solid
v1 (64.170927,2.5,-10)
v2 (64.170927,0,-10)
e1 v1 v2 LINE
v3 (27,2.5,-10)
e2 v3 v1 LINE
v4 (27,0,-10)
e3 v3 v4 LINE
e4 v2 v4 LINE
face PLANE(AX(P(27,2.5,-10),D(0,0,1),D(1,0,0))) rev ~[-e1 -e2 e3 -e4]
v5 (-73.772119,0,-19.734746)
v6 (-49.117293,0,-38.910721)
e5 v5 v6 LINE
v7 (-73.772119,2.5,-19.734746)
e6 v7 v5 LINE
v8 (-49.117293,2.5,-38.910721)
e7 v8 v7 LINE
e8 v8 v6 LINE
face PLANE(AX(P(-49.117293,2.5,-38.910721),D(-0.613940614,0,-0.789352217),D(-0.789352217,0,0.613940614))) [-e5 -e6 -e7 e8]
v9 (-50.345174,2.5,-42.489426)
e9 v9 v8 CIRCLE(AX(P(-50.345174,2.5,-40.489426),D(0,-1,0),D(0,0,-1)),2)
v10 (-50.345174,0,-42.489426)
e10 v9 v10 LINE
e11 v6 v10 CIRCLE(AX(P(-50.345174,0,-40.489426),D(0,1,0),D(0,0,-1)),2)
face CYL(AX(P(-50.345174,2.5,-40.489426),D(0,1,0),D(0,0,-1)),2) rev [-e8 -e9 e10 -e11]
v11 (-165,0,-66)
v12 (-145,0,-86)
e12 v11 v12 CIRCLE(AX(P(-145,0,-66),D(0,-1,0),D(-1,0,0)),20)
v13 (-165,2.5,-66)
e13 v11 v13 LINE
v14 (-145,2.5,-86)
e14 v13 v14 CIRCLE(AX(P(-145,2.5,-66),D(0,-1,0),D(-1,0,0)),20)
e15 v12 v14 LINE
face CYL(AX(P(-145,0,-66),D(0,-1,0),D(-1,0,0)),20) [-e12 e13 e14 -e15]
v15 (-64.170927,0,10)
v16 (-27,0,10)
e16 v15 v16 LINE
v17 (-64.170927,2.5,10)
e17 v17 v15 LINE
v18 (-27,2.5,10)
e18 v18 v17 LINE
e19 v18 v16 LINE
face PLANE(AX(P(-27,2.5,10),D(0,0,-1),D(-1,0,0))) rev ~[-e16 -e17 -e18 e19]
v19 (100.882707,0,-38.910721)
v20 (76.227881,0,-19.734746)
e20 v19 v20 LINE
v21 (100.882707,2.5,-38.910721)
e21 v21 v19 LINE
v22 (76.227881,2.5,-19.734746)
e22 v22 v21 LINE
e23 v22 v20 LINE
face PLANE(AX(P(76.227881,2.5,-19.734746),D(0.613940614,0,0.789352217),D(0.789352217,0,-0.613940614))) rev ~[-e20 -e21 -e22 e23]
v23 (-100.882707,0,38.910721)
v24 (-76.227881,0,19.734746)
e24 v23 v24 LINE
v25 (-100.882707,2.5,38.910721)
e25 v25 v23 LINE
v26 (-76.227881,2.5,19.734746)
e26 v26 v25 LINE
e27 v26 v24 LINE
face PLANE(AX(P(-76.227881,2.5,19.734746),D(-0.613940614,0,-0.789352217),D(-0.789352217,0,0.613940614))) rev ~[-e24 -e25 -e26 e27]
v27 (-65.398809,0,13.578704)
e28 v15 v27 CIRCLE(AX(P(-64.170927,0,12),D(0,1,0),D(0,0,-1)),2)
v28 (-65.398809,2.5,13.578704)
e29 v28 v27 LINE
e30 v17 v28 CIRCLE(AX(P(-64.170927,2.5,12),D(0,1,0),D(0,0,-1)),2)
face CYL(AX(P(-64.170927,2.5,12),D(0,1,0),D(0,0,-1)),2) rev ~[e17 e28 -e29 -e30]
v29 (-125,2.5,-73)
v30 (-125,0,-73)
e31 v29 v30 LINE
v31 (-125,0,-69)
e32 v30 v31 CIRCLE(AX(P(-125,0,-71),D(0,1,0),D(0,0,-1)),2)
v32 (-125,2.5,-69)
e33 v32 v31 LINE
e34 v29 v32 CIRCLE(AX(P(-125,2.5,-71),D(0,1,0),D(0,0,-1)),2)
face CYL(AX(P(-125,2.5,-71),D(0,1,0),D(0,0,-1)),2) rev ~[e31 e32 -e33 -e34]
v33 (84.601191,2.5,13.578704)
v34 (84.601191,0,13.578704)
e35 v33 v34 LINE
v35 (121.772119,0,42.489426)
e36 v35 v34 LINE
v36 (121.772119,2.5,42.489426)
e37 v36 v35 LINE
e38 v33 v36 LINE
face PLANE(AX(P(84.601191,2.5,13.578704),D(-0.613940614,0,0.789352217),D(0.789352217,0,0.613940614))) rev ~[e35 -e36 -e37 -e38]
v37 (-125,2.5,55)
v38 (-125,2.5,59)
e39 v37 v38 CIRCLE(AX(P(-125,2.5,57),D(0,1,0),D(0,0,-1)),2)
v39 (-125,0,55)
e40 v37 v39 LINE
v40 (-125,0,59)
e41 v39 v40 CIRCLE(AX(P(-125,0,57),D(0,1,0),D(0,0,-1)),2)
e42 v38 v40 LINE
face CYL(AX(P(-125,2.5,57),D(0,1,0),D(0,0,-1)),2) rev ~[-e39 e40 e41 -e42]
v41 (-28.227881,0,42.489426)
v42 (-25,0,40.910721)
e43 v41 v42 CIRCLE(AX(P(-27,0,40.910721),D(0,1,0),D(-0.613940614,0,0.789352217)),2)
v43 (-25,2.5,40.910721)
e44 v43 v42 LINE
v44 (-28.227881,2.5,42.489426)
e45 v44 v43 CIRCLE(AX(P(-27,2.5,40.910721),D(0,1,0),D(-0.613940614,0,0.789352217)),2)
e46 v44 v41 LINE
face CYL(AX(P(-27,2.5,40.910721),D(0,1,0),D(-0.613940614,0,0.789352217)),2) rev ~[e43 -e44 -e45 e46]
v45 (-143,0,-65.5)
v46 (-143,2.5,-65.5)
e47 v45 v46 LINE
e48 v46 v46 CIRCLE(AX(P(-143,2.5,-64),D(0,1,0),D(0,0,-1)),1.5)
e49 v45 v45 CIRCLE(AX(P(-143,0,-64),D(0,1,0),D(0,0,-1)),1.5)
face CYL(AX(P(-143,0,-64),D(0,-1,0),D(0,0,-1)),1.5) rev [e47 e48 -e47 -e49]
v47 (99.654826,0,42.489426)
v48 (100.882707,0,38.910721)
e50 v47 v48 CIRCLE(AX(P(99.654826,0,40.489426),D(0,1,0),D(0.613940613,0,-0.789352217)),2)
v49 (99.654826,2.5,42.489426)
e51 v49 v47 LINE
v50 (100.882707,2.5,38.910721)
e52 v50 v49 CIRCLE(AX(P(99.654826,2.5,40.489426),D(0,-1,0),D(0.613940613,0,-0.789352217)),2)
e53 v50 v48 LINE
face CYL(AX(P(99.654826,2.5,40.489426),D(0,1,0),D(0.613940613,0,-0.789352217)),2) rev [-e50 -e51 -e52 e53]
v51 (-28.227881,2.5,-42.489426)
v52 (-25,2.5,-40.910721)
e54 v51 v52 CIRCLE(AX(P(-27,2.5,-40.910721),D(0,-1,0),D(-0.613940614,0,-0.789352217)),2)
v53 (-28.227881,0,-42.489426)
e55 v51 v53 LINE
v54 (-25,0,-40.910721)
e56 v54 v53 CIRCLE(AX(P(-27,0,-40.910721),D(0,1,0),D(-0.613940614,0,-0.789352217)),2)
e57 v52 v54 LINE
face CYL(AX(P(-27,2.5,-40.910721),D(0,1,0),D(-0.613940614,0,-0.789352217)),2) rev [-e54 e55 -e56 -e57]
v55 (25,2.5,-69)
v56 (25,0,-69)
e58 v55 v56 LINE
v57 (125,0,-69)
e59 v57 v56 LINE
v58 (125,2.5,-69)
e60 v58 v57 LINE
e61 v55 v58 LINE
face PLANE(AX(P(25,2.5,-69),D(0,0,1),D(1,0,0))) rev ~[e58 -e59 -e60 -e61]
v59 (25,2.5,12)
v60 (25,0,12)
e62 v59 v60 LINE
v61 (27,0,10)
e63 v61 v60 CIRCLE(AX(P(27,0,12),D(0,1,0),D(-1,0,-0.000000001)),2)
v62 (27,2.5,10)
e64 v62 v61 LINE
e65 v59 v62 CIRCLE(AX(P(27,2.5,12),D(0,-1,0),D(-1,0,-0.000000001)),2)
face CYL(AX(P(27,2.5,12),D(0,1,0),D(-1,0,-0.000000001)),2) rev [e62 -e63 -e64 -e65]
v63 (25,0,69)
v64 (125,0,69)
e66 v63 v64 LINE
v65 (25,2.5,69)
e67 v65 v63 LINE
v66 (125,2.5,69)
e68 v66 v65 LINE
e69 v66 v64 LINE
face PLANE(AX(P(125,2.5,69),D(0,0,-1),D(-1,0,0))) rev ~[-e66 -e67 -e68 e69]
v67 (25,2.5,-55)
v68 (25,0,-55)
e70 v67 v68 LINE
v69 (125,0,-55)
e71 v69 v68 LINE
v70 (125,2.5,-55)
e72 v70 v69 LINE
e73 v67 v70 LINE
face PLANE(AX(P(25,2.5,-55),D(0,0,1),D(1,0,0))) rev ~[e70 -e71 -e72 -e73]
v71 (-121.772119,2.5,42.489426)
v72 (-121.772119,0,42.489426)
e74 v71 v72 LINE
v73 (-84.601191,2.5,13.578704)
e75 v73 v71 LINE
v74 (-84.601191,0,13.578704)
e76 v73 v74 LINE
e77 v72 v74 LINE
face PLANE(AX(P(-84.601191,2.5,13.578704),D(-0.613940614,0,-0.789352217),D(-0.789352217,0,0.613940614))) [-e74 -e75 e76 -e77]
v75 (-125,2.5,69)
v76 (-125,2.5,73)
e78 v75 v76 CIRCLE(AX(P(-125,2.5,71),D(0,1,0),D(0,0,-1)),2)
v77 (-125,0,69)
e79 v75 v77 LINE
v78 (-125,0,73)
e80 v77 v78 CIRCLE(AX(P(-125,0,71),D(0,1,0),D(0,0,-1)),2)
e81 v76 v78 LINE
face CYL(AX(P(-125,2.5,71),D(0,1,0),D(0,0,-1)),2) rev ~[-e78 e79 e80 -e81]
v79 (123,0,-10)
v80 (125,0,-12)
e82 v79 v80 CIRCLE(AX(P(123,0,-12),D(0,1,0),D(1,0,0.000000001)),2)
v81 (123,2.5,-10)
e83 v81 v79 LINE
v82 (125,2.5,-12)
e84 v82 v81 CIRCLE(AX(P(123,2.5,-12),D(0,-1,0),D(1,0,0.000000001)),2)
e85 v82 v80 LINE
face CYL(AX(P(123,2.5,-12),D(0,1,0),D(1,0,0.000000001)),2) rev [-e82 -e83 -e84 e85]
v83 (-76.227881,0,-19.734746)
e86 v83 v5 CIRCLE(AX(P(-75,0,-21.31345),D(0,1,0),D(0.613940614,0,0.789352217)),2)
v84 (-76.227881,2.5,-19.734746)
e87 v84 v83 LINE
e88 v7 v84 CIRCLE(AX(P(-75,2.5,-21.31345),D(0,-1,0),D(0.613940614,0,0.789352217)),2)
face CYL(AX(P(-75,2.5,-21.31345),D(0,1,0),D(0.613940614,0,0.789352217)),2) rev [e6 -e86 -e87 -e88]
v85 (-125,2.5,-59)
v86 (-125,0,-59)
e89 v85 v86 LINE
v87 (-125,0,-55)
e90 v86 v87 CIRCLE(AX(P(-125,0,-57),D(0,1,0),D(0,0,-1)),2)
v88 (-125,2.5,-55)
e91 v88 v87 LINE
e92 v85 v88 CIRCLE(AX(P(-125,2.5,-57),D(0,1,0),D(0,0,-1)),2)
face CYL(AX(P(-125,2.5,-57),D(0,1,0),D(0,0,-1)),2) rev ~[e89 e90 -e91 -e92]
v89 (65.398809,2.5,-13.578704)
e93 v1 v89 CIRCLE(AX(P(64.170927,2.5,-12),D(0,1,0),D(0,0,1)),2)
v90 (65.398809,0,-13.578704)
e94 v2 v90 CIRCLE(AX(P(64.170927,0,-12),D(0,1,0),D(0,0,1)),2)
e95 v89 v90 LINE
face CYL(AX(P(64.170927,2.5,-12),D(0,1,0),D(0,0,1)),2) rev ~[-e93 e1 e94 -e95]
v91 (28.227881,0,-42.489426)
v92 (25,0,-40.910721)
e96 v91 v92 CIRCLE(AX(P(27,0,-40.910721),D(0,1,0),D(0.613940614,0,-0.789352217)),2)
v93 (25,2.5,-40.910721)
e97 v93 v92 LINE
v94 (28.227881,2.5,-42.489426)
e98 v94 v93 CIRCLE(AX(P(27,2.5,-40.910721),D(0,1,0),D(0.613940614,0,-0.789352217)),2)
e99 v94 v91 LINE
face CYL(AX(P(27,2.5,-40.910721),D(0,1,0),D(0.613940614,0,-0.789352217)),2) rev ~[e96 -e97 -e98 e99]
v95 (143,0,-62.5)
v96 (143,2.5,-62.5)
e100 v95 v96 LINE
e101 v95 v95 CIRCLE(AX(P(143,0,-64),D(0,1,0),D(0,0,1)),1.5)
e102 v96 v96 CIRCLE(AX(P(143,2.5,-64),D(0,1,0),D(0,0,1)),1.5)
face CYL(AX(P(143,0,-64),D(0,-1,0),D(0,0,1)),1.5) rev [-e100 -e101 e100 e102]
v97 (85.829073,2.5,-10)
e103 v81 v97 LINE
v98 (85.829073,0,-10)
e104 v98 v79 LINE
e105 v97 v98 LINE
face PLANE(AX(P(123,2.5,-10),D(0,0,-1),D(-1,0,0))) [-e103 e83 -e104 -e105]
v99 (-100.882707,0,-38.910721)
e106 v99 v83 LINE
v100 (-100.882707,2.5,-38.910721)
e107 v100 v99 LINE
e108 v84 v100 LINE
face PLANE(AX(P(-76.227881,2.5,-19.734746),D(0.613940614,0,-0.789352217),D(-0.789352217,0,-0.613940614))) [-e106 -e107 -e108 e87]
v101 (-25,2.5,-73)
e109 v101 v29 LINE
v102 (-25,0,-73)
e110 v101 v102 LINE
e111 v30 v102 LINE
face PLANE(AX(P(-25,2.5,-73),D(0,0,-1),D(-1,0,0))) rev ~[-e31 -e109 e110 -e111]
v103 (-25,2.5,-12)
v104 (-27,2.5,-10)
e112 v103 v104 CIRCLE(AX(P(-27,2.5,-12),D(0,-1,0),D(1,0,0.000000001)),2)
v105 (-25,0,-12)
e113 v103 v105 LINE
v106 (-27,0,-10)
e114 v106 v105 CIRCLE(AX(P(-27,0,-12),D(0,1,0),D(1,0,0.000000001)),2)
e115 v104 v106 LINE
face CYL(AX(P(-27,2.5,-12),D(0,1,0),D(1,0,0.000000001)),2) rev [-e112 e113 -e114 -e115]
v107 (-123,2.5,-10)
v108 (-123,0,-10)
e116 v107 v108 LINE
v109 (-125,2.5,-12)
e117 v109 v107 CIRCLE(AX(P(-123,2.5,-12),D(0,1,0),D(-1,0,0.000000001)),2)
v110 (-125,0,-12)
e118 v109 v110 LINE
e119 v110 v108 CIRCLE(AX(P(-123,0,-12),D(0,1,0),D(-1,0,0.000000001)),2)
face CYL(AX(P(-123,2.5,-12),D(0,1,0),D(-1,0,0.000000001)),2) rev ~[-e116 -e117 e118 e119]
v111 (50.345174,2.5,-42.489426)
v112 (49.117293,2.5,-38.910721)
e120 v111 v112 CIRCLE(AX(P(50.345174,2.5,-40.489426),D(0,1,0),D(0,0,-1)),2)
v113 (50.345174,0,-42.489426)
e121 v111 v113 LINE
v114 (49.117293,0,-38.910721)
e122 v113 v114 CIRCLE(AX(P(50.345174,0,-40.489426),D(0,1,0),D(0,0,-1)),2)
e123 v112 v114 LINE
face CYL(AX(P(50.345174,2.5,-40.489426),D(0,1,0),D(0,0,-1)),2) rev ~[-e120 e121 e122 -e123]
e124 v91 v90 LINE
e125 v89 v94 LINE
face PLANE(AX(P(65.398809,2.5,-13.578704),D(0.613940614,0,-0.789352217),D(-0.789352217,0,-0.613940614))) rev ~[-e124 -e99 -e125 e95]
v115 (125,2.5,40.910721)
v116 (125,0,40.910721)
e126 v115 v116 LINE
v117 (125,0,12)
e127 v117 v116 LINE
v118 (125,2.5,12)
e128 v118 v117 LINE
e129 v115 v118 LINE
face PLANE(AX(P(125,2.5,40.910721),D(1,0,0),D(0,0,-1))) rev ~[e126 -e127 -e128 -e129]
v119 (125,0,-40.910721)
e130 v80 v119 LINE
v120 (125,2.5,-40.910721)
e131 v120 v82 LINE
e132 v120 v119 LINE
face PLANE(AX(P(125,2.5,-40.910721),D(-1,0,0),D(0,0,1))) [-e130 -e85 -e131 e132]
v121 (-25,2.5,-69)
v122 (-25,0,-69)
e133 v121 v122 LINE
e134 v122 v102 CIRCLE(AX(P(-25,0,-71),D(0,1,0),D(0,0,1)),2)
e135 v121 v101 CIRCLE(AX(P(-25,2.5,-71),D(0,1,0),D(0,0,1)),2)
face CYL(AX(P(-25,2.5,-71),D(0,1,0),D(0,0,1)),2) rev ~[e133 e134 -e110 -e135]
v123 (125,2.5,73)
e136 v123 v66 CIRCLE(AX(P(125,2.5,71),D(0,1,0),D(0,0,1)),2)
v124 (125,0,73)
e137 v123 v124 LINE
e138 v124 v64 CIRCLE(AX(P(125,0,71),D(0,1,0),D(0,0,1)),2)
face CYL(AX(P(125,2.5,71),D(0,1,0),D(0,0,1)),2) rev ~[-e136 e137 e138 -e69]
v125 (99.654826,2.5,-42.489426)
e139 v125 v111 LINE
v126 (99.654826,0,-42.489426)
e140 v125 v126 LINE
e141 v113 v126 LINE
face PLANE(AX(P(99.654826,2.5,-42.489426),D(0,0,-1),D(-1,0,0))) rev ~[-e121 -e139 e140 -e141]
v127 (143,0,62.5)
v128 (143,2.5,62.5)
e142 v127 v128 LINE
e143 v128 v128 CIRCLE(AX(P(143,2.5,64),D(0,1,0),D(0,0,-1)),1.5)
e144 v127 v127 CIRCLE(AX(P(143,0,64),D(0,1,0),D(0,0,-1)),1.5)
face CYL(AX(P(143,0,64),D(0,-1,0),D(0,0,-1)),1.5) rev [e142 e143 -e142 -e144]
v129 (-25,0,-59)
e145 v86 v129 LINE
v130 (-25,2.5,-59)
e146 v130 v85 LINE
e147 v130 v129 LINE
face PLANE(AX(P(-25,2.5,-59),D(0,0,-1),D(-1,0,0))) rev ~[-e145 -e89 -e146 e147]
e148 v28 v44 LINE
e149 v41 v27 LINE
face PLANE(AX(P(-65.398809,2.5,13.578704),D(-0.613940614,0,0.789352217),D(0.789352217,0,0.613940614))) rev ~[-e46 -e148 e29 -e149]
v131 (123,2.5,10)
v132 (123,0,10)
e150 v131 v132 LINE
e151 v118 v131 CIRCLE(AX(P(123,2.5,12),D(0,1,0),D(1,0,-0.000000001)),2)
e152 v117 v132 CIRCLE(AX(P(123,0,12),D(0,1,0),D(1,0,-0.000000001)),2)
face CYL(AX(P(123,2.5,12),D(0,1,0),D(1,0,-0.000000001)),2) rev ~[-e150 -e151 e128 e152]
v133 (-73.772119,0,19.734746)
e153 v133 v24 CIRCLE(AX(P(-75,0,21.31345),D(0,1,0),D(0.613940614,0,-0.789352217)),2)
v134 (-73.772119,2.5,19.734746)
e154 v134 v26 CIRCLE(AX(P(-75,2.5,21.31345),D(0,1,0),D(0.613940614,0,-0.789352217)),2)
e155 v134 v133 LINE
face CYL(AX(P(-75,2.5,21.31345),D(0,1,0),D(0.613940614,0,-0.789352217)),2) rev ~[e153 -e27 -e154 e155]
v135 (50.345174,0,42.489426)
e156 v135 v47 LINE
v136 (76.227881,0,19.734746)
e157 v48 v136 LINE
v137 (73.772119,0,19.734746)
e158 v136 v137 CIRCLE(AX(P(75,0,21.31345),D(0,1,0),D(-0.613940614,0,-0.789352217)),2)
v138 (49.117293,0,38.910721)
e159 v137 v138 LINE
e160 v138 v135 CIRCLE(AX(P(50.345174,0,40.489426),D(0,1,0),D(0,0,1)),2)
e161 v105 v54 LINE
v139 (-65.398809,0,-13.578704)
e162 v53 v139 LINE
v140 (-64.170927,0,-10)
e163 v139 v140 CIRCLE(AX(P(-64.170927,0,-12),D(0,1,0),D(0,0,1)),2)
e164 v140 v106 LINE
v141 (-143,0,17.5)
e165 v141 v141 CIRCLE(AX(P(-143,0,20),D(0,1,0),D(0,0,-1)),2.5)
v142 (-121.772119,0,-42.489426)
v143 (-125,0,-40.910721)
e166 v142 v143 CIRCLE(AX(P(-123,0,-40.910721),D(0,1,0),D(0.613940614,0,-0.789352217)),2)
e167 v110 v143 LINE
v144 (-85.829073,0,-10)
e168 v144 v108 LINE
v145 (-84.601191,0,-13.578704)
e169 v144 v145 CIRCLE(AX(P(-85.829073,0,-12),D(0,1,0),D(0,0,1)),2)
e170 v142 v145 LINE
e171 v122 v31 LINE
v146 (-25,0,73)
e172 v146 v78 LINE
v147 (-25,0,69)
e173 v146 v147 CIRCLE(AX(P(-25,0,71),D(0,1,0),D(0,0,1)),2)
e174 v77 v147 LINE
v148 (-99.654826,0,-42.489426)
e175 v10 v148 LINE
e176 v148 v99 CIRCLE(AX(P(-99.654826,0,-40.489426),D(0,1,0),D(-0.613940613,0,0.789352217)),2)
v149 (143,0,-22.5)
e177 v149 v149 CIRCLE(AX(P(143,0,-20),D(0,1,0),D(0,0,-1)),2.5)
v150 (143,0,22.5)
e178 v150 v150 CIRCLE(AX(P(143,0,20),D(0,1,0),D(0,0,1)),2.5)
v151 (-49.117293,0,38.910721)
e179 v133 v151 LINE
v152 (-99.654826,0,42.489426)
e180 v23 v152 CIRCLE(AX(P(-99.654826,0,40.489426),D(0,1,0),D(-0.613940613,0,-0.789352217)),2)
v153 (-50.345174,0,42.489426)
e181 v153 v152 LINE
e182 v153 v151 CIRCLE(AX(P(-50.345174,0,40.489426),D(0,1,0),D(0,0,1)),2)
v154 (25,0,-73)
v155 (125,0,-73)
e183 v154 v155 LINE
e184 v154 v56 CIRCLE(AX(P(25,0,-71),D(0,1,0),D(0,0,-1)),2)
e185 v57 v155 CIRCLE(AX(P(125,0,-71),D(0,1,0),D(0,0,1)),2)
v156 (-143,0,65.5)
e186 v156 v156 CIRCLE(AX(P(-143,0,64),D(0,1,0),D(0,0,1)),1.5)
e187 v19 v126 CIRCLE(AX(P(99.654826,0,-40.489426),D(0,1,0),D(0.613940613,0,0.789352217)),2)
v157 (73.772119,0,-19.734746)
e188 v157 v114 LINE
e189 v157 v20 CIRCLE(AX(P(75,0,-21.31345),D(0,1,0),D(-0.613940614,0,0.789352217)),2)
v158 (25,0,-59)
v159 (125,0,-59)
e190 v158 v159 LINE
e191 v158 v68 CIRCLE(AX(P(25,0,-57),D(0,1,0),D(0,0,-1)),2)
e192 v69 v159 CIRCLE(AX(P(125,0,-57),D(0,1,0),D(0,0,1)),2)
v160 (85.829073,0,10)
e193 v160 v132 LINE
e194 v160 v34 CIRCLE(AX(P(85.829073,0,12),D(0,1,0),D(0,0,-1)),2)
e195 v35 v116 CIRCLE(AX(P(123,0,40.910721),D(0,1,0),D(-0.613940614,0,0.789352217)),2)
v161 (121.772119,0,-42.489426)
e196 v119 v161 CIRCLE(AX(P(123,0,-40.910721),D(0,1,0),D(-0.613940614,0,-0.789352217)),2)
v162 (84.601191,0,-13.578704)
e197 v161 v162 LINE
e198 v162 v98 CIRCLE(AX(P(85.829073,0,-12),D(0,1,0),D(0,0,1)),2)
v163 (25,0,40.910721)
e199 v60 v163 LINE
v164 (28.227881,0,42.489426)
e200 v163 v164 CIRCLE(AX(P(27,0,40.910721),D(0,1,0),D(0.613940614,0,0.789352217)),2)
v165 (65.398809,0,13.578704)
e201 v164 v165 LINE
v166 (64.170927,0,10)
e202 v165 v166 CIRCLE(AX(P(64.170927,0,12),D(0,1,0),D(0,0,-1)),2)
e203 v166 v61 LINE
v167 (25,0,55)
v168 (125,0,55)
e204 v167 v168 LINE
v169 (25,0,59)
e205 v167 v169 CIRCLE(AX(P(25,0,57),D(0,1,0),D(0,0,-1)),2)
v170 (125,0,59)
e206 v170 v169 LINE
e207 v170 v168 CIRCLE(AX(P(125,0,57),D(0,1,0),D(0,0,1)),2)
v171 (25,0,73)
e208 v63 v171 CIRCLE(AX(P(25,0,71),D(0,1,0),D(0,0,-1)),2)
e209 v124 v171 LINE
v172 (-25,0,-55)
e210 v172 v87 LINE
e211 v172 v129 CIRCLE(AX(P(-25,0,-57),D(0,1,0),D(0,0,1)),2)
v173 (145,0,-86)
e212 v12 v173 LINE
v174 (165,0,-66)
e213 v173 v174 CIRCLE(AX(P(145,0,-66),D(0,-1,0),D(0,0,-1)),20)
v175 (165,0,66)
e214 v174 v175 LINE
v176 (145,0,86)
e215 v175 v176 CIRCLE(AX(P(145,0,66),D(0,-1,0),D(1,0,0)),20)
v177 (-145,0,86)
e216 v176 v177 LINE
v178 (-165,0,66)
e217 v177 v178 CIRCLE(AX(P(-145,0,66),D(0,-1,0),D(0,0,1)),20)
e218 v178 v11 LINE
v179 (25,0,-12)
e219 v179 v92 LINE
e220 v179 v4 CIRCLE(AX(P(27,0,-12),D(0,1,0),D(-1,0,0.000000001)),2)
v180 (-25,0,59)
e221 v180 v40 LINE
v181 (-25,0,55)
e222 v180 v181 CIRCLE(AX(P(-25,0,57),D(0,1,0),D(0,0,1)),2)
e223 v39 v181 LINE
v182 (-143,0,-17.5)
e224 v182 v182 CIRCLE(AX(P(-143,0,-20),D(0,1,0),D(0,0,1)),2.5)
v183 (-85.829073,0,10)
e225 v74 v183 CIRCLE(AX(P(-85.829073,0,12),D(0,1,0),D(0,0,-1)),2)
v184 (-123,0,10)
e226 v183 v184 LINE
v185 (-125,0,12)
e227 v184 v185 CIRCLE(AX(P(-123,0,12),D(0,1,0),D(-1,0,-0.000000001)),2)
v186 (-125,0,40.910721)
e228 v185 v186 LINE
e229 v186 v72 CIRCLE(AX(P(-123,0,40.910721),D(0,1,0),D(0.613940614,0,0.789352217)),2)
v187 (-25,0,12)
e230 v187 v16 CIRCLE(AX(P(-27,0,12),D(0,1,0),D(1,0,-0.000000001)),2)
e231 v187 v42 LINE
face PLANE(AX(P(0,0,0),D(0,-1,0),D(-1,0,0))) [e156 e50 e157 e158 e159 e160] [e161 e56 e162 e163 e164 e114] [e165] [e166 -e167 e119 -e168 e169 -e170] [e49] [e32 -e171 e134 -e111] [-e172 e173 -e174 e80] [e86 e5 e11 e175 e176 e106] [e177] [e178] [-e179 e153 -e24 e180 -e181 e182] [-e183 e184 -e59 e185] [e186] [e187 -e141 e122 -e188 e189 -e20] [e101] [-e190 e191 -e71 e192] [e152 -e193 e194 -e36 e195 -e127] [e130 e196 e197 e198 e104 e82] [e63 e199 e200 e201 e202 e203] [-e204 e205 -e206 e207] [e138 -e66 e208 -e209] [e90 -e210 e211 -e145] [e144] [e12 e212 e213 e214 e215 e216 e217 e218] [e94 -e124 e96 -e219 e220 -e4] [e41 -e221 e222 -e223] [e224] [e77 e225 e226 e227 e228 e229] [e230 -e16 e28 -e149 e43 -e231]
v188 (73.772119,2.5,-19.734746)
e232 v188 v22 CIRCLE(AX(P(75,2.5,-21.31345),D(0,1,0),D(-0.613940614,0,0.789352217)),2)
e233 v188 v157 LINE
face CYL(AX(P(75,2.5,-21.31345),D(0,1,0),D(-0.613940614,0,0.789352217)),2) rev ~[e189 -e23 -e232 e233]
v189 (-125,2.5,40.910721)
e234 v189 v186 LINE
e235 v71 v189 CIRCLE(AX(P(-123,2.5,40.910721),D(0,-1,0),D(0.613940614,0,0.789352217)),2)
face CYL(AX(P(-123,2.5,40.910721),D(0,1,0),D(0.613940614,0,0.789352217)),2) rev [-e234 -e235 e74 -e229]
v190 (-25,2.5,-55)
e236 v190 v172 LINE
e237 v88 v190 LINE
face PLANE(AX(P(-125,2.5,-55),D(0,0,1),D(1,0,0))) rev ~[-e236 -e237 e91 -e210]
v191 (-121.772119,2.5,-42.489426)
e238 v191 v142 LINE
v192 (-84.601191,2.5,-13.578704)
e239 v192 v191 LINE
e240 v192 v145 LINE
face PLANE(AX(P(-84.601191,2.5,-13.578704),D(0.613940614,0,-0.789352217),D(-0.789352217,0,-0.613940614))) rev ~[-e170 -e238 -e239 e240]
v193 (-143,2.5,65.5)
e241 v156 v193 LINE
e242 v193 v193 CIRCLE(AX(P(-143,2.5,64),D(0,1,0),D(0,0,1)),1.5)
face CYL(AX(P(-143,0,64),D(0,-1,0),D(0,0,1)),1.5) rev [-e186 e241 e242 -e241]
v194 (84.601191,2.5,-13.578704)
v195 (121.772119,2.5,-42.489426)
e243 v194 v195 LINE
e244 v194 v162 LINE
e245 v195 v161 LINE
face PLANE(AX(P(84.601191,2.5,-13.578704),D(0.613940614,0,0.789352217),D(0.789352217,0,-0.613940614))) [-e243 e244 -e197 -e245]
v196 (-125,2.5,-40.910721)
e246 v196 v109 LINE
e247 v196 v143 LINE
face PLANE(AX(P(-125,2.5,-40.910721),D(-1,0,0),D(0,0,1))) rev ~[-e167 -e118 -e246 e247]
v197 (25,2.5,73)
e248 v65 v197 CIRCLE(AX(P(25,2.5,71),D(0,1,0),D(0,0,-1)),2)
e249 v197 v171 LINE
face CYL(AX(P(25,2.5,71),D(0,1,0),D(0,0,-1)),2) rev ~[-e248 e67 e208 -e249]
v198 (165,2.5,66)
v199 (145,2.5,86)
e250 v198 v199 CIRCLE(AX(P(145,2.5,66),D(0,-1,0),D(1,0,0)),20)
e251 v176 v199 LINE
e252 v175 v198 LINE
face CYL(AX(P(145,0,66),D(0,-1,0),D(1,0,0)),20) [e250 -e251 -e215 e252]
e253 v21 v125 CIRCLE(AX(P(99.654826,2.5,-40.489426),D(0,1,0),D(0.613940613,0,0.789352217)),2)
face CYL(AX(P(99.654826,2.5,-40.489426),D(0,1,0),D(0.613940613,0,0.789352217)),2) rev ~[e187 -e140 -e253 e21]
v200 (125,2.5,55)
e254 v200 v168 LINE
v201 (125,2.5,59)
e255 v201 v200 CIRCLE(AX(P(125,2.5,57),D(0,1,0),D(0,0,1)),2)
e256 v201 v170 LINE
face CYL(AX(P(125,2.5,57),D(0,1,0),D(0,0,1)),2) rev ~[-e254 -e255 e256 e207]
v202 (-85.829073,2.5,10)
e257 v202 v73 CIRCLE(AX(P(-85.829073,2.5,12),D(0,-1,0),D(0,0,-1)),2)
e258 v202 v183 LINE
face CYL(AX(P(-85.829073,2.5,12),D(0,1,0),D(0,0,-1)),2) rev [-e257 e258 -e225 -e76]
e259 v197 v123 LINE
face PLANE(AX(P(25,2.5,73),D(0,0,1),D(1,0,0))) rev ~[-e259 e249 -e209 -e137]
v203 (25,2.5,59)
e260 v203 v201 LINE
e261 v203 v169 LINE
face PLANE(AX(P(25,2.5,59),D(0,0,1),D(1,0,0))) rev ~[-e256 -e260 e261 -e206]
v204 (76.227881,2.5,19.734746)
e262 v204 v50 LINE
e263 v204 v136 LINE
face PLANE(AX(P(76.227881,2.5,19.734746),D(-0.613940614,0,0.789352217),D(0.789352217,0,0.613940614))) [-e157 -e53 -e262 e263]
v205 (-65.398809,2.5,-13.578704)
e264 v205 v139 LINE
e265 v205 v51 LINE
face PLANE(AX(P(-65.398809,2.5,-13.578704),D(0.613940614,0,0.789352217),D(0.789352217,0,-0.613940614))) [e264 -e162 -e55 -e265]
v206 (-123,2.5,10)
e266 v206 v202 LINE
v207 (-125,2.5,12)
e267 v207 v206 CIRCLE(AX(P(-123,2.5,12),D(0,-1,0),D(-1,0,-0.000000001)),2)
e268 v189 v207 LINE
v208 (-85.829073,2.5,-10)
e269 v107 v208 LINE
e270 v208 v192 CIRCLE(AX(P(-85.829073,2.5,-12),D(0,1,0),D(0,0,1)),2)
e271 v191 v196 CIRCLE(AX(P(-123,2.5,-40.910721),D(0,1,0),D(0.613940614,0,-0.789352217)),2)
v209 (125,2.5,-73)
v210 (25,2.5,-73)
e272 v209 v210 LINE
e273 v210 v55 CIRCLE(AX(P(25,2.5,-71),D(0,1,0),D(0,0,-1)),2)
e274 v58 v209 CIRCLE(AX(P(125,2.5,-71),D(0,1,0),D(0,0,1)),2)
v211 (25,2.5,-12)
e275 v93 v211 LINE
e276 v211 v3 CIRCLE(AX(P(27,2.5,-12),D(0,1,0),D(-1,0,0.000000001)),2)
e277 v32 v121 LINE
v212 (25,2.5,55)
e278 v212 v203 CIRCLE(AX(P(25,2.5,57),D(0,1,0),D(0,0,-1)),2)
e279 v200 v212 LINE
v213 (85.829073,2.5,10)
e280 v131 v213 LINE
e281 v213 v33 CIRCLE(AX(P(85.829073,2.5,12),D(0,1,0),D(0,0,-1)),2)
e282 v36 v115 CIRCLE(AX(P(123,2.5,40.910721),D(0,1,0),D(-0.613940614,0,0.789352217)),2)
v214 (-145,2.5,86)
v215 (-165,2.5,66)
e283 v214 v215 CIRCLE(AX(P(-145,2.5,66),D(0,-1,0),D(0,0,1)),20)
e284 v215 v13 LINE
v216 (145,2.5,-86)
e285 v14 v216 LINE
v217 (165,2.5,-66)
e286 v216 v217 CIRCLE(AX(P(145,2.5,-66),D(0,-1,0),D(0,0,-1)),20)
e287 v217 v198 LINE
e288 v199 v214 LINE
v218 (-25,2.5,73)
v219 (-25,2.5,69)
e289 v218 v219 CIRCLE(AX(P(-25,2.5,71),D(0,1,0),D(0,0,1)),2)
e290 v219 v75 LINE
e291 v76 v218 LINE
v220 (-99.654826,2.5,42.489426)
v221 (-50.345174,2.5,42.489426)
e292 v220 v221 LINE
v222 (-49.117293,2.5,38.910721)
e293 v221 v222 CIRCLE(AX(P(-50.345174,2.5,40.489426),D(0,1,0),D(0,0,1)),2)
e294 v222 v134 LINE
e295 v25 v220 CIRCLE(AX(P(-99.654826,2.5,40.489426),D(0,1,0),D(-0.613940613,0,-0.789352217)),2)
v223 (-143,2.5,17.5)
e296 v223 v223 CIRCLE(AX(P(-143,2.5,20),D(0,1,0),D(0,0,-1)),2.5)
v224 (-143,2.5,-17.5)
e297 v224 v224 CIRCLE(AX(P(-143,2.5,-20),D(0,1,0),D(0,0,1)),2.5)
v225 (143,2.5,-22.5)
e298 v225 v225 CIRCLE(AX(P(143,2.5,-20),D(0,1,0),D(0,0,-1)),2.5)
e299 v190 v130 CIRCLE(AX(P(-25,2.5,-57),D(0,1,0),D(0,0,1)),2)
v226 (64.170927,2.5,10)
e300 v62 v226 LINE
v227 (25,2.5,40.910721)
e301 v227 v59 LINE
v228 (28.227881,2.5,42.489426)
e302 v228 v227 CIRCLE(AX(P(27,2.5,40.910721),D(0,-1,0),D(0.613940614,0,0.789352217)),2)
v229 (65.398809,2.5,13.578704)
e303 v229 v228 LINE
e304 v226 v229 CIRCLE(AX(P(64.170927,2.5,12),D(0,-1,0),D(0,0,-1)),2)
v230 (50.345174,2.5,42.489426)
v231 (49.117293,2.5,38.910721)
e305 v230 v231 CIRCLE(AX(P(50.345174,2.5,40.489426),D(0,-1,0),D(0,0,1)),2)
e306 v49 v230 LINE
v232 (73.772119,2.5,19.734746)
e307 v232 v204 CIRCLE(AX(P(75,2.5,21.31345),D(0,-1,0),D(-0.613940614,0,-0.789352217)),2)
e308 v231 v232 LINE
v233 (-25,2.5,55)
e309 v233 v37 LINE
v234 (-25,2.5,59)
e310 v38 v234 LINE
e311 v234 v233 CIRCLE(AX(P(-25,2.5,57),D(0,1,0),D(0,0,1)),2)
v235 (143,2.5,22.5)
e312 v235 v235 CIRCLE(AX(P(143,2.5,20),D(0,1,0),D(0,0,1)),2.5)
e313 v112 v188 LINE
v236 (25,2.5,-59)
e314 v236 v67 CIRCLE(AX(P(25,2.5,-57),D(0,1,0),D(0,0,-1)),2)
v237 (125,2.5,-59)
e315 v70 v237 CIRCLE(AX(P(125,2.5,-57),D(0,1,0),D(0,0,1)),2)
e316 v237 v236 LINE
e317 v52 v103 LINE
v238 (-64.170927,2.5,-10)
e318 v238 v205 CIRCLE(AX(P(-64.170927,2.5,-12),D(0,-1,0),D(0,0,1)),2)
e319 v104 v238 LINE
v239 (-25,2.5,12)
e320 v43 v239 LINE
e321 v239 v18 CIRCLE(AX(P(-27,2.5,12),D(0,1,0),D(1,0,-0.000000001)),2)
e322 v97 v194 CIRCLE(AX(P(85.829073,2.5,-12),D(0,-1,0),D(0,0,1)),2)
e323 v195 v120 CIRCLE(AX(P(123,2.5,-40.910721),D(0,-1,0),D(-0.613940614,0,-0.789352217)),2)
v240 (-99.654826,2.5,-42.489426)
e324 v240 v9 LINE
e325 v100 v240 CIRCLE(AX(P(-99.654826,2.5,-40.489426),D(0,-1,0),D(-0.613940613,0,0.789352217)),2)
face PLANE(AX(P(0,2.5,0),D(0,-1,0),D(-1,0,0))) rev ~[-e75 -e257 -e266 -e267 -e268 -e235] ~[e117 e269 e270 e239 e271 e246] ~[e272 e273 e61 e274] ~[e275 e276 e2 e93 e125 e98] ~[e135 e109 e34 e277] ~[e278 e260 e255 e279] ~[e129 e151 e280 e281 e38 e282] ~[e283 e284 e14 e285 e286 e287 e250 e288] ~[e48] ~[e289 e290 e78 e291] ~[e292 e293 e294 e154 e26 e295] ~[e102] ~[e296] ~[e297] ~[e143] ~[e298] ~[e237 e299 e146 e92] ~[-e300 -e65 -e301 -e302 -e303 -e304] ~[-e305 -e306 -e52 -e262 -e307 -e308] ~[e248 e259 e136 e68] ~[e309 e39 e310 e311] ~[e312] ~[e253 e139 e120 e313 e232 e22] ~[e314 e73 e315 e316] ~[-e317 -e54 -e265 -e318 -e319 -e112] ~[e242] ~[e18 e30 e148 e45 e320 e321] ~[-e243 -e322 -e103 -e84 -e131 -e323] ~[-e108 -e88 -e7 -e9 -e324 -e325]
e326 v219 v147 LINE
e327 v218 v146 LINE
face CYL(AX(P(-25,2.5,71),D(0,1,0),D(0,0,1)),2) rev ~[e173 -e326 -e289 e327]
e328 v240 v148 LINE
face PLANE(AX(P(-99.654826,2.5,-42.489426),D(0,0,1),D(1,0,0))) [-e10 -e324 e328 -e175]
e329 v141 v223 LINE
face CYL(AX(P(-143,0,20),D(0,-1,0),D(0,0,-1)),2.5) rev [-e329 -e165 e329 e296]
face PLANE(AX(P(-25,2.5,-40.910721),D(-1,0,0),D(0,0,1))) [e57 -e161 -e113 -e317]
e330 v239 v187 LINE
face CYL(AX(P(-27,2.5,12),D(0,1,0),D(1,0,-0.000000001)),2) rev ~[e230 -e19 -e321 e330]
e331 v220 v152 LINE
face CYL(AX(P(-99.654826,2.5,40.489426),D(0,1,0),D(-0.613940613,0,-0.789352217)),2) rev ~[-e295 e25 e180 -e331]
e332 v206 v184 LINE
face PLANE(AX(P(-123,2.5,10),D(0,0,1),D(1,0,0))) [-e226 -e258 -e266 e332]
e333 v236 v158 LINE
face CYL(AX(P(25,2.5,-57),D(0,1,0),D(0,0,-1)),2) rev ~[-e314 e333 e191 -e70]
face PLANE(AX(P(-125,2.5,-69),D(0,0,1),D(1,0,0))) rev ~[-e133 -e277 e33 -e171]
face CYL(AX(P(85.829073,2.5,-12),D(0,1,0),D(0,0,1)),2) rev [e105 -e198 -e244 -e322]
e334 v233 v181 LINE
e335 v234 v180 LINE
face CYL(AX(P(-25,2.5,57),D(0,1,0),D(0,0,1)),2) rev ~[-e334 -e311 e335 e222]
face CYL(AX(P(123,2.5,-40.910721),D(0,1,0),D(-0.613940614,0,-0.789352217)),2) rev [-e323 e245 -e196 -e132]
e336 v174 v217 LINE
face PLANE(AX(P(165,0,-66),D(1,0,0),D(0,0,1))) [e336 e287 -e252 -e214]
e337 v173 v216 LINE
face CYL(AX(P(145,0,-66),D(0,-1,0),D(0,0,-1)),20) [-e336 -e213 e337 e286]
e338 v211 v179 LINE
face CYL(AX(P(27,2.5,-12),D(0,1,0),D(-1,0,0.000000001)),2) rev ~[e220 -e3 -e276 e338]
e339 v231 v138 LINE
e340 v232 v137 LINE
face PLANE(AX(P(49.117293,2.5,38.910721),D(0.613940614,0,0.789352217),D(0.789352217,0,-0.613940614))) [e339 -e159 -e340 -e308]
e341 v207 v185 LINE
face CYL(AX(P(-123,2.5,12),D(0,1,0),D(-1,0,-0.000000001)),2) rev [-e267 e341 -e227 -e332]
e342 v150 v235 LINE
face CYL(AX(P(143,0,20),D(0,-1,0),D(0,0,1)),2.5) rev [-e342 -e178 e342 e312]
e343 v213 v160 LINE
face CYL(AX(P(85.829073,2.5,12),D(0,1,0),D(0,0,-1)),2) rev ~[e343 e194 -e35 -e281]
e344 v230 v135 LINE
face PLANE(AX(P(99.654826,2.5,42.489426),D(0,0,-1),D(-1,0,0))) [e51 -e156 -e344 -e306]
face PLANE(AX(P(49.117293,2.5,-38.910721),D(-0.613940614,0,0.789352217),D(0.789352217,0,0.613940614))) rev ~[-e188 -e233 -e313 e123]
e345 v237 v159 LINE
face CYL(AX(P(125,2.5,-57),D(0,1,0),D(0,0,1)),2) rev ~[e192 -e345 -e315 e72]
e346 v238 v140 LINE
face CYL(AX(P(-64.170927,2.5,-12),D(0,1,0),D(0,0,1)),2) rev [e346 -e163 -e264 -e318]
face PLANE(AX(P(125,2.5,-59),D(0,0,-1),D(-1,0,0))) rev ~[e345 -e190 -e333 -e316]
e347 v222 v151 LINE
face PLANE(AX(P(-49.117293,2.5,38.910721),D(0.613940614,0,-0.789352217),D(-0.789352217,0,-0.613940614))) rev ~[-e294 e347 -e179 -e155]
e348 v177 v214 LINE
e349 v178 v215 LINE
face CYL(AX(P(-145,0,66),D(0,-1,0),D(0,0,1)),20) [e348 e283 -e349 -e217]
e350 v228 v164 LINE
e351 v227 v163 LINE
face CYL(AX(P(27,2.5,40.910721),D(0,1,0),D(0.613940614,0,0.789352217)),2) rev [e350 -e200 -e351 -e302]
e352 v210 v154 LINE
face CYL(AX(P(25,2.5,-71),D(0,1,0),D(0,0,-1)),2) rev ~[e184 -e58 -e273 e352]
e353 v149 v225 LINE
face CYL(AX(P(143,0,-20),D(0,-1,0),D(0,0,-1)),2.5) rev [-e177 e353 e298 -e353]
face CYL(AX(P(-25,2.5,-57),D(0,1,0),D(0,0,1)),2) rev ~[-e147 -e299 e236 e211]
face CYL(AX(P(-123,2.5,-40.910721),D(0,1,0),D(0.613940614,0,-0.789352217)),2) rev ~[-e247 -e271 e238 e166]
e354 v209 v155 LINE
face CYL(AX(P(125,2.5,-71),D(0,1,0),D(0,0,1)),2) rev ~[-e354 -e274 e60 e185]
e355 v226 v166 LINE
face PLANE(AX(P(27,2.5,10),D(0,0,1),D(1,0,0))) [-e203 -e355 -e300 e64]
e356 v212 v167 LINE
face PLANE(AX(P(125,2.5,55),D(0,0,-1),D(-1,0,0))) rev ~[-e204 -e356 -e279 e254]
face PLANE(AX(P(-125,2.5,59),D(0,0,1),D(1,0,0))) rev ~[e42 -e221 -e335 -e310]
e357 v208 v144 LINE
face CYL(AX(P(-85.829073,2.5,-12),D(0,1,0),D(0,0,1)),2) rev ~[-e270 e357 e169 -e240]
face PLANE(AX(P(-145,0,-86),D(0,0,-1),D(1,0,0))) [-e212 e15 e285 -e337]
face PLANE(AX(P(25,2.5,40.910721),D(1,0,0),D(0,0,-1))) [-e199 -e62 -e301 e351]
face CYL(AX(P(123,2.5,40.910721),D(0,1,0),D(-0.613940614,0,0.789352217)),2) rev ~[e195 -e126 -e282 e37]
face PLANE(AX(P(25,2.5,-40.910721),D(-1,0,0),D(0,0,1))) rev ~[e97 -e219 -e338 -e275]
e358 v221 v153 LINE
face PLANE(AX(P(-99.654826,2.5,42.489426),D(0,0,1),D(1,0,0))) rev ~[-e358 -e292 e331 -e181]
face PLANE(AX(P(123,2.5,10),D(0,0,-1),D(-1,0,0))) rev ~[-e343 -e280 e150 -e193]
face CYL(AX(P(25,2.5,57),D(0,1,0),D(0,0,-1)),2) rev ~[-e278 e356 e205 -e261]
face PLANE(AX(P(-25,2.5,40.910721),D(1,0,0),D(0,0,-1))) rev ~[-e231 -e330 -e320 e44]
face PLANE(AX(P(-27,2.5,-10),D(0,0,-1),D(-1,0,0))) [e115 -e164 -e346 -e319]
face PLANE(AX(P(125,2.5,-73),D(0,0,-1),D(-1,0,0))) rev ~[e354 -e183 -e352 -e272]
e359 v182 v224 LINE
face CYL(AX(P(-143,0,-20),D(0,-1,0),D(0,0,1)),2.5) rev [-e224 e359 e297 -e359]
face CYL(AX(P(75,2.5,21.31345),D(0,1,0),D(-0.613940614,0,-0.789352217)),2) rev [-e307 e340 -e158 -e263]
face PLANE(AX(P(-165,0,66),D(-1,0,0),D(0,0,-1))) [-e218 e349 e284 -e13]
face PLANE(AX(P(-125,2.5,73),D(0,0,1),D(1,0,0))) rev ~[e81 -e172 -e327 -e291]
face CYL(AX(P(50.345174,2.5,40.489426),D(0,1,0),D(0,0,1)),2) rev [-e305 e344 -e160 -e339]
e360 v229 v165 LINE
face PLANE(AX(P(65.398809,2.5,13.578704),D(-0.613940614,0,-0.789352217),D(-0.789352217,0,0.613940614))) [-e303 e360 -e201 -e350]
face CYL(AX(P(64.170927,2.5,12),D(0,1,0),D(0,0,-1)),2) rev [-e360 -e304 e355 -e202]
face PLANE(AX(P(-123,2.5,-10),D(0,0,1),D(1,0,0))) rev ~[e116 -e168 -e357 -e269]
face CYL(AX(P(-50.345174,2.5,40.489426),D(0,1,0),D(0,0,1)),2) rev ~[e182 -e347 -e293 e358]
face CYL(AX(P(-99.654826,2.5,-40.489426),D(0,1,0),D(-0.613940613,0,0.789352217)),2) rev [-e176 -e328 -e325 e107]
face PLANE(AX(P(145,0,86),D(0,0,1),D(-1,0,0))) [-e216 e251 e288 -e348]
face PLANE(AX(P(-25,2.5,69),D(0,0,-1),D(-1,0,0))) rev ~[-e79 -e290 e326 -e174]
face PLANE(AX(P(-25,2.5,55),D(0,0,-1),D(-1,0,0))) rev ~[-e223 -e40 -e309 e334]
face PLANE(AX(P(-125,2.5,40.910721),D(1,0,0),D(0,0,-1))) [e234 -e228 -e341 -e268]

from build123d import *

# Parameters (mm, degrees)
SKETCH1_R                 = 1.5
SKETCH1_R_2               = 2.5
BATTERY_MOUNT_PLATE_DEPTH = 2.5
BATTERY_STRAP_SLOTS_DEPTH = 10
CUT_EXTRUDE1_DEPTH        = 10


with BuildPart() as part:
    # Sketch1 → battery mount plate (new body)
    with BuildSketch(Plane(origin=(0, 0, 0), x_dir=(1, 0, 0), z_dir=(0, 1, 0))):
        with BuildLine():
            Line((-145, 86), (145, 86))
            ThreePointArc((145, 86), (159.142135624, 80.142135624), (165, 66))
            Line((165, 66), (165, -66))
            ThreePointArc((165, -66), (159.142135624, -80.142135624), (145, -86))
            Line((145, -86), (-145, -86))
            ThreePointArc((-145, -86), (-159.142135624, -80.142135624), (-165, -66))
            Line((-165, -66), (-165, 66))
            ThreePointArc((-165, 66), (-159.142135624, 80.142135624), (-145, 86))
        make_face()
        with Locations((143, 64)):
            Circle(SKETCH1_R, mode=Mode.SUBTRACT)
        with Locations((-143, 64)):
            Circle(SKETCH1_R, mode=Mode.SUBTRACT)
        with Locations((143, -64)):
            Circle(SKETCH1_R, mode=Mode.SUBTRACT)
        with Locations((-143, -64)):
            Circle(SKETCH1_R, mode=Mode.SUBTRACT)
        with Locations((-143, 20)):
            Circle(SKETCH1_R_2, mode=Mode.SUBTRACT)
        with Locations((-143, -20)):
            Circle(SKETCH1_R_2, mode=Mode.SUBTRACT)
        with Locations((143, 20)):
            Circle(SKETCH1_R_2, mode=Mode.SUBTRACT)
        with Locations((143, -20)):
            Circle(SKETCH1_R_2, mode=Mode.SUBTRACT)
    extrude(amount=BATTERY_MOUNT_PLATE_DEPTH)

    # Sketch2 → battery strap slots (cut)
    with BuildSketch(Plane(origin=(0, 2.5, 0), x_dir=(1, 0, 0), z_dir=(0, 1, 0))):
        with BuildLine():
            Line((-125, 73), (-25, 73))
            ThreePointArc((-25, 73), (-23, 71), (-25, 69))
            Line((-25, 69), (-125, 69))
            ThreePointArc((-125, 69), (-127, 71), (-125, 73))
        make_face()
        with BuildLine():
            Line((25, 69), (125, 69))
            ThreePointArc((125, 69), (127, 71), (125, 73))
            Line((125, 73), (25, 73))
            ThreePointArc((25, 73), (23, 71), (25, 69))
        make_face()
        with BuildLine():
            Line((25, 55), (125, 55))
            ThreePointArc((125, 55), (127, 57), (125, 59))
            Line((125, 59), (25, 59))
            ThreePointArc((25, 59), (23, 57), (25, 55))
        make_face()
        with BuildLine():
            Line((-125, 59), (-25, 59))
            ThreePointArc((-25, 59), (-23, 57), (-25, 55))
            Line((-25, 55), (-125, 55))
            ThreePointArc((-125, 55), (-127, 57), (-125, 59))
        make_face()
        with BuildLine():
            Line((-125, -55), (-25, -55))
            ThreePointArc((-25, -55), (-23, -57), (-25, -59))
            Line((-25, -59), (-125, -59))
            ThreePointArc((-125, -59), (-127, -57), (-125, -55))
        make_face()
        with BuildLine():
            Line((25, -59), (125, -59))
            ThreePointArc((125, -59), (127, -57), (125, -55))
            Line((125, -55), (25, -55))
            ThreePointArc((25, -55), (23, -57), (25, -59))
        make_face()
        with BuildLine():
            Line((25, -73), (125, -73))
            ThreePointArc((125, -73), (127, -71), (125, -69))
            Line((125, -69), (25, -69))
            ThreePointArc((25, -69), (23, -71), (25, -73))
        make_face()
        with BuildLine():
            Line((-125, -69), (-25, -69))
            ThreePointArc((-25, -69), (-23, -71), (-25, -73))
            Line((-25, -73), (-125, -73))
            ThreePointArc((-125, -73), (-127, -71), (-125, -69))
        make_face()
    extrude(amount=-BATTERY_STRAP_SLOTS_DEPTH, mode=Mode.SUBTRACT)

    # Sketch3 → Cut-Extrude1 (cut)
    with BuildSketch(Plane(origin=(0, 2.5, 0), x_dir=(1, 0, 0), z_dir=(0, 1, 0))):
        with BuildLine():
            Line((-125, 40.910721278), (-125, 12))
            ThreePointArc((-125, 12), (-124.414213562, 10.585786438), (-123, 10))
            Line((-123, 10), (-85.829072643, 10))
            ThreePointArc((-85.829072643, 10), (-83.937326245, 11.35092715), (-84.601191416, 13.578704435))
            Line((-84.601191416, 13.578704435), (-121.772118773, 42.489425712))
            ThreePointArc((-121.772118773, 42.489425712), (-123.878702892, 42.707351798), (-125, 40.910721278))
        make_face()
        with BuildLine():
            Line((-84.601191416, -13.578704435), (-121.772118773, -42.489425712))
            ThreePointArc((-121.772118773, -42.489425712), (-123.878702892, -42.707351798), (-125, -40.910721278))
            Line((-125, -40.910721278), (-125, -12))
            ThreePointArc((-125, -12), (-124.414213562, -10.585786438), (-123, -10))
            Line((-123, -10), (-85.829072643, -10))
            ThreePointArc((-85.829072643, -10), (-83.937326245, -11.35092715), (-84.601191416, -13.578704435))
        make_face()
        with BuildLine():
            Line((-25, -40.910721278), (-25, -12))
            ThreePointArc((-25, -12), (-25.585786438, -10.585786438), (-27, -10))
            Line((-27, -10), (-64.170927357, -10))
            ThreePointArc((-64.170927357, -10), (-66.062673755, -11.35092715), (-65.398808584, -13.578704435))
            Line((-65.398808584, -13.578704435), (-28.227881227, -42.489425712))
            ThreePointArc((-28.227881227, -42.489425712), (-26.121297108, -42.707351798), (-25, -40.910721278))
        make_face()
        with BuildLine():
            Line((-65.398808584, 13.578704435), (-28.227881227, 42.489425712))
            ThreePointArc((-28.227881227, 42.489425712), (-26.121297108, 42.707351798), (-25, 40.910721278))
            Line((-25, 40.910721278), (-25, 12))
            ThreePointArc((-25, 12), (-25.585786438, 10.585786438), (-27, 10))
            Line((-27, 10), (-64.170927357, 10))
            ThreePointArc((-64.170927357, 10), (-66.062673755, 11.35092715), (-65.398808584, 13.578704435))
        make_face()
        with BuildLine():
            Line((-99.654825771, 42.489425712), (-50.345174229, 42.489425712))
            ThreePointArc((-50.345174229, 42.489425712), (-48.453427831, 41.138498563), (-49.117293002, 38.910721278))
            Line((-49.117293002, 38.910721278), (-73.772118773, 19.734745678))
            ThreePointArc((-73.772118773, 19.734745678), (-75, 19.313450112), (-76.227881227, 19.734745678))
            Line((-76.227881227, 19.734745678), (-100.882706998, 38.910721278))
            ThreePointArc((-100.882706998, 38.910721278), (-101.546572169, 41.138498563), (-99.654825771, 42.489425712))
        make_face()
        with BuildLine():
            Line((-49.117293002, -38.910721278), (-73.772118773, -19.734745678))
            ThreePointArc((-73.772118773, -19.734745678), (-75, -19.313450112), (-76.227881227, -19.734745678))
            Line((-76.227881227, -19.734745678), (-100.882706998, -38.910721278))
            ThreePointArc((-100.882706998, -38.910721278), (-101.546572169, -41.138498563), (-99.654825771, -42.489425712))
            Line((-99.654825771, -42.489425712), (-50.345174229, -42.489425712))
            ThreePointArc((-50.345174229, -42.489425712), (-48.453427831, -41.138498563), (-49.117293002, -38.910721278))
        make_face()
        with BuildLine():
            Line((76.227881227, -19.734745678), (100.882706998, -38.910721278))
            ThreePointArc((100.882706998, -38.910721278), (101.546572169, -41.138498563), (99.654825771, -42.489425712))
            Line((99.654825771, -42.489425712), (50.345174229, -42.489425712))
            ThreePointArc((50.345174229, -42.489425712), (48.453427831, -41.138498563), (49.117293002, -38.910721278))
            Line((49.117293002, -38.910721278), (73.772118773, -19.734745678))
            ThreePointArc((73.772118773, -19.734745678), (75, -19.313450112), (76.227881227, -19.734745678))
        make_face()
        with BuildLine():
            Line((76.227881227, 19.734745678), (100.882706998, 38.910721278))
            ThreePointArc((100.882706998, 38.910721278), (101.546572169, 41.138498563), (99.654825771, 42.489425712))
            Line((99.654825771, 42.489425712), (50.345174229, 42.489425712))
            ThreePointArc((50.345174229, 42.489425712), (48.453427831, 41.138498563), (49.117293002, 38.910721278))
            Line((49.117293002, 38.910721278), (73.772118773, 19.734745678))
            ThreePointArc((73.772118773, 19.734745678), (75, 19.313450112), (76.227881227, 19.734745678))
        make_face()
        with BuildLine():
            Line((25, 40.910721278), (25, 12))
            ThreePointArc((25, 12), (25.585786438, 10.585786438), (27, 10))
            Line((27, 10), (64.170927357, 10))
            ThreePointArc((64.170927357, 10), (66.062673755, 11.35092715), (65.398808584, 13.578704435))
            Line((65.398808584, 13.578704435), (28.227881227, 42.489425712))
            ThreePointArc((28.227881227, 42.489425712), (26.121297108, 42.707351798), (25, 40.910721278))
        make_face()
        with BuildLine():
            Line((65.398808584, -13.578704435), (28.227881227, -42.489425712))
            ThreePointArc((28.227881227, -42.489425712), (26.121297108, -42.707351798), (25, -40.910721278))
            Line((25, -40.910721278), (25, -12))
            ThreePointArc((25, -12), (25.585786438, -10.585786438), (27, -10))
            Line((27, -10), (64.170927357, -10))
            ThreePointArc((64.170927357, -10), (66.062673755, -11.35092715), (65.398808584, -13.578704435))
        make_face()
        with BuildLine():
            Line((125, -40.910721278), (125, -12))
            ThreePointArc((125, -12), (124.414213562, -10.585786438), (123, -10))
            Line((123, -10), (85.829072643, -10))
            ThreePointArc((85.829072643, -10), (83.937326245, -11.35092715), (84.601191416, -13.578704435))
            Line((84.601191416, -13.578704435), (121.772118773, -42.489425712))
            ThreePointArc((121.772118773, -42.489425712), (123.878702892, -42.707351798), (125, -40.910721278))
        make_face()
        with BuildLine():
            Line((84.601191416, 13.578704435), (121.772118773, 42.489425712))
            ThreePointArc((121.772118773, 42.489425712), (123.878702892, 42.707351798), (125, 40.910721278))
            Line((125, 40.910721278), (125, 12))
            ThreePointArc((125, 12), (124.414213562, 10.585786438), (123, 10))
            Line((123, 10), (85.829072643, 10))
            ThreePointArc((85.829072643, 10), (83.937326245, 11.35092715), (84.601191416, 13.578704435))
        make_face()
    extrude(amount=-CUT_EXTRUDE1_DEPTH, mode=Mode.SUBTRACT)


solid = part.part
